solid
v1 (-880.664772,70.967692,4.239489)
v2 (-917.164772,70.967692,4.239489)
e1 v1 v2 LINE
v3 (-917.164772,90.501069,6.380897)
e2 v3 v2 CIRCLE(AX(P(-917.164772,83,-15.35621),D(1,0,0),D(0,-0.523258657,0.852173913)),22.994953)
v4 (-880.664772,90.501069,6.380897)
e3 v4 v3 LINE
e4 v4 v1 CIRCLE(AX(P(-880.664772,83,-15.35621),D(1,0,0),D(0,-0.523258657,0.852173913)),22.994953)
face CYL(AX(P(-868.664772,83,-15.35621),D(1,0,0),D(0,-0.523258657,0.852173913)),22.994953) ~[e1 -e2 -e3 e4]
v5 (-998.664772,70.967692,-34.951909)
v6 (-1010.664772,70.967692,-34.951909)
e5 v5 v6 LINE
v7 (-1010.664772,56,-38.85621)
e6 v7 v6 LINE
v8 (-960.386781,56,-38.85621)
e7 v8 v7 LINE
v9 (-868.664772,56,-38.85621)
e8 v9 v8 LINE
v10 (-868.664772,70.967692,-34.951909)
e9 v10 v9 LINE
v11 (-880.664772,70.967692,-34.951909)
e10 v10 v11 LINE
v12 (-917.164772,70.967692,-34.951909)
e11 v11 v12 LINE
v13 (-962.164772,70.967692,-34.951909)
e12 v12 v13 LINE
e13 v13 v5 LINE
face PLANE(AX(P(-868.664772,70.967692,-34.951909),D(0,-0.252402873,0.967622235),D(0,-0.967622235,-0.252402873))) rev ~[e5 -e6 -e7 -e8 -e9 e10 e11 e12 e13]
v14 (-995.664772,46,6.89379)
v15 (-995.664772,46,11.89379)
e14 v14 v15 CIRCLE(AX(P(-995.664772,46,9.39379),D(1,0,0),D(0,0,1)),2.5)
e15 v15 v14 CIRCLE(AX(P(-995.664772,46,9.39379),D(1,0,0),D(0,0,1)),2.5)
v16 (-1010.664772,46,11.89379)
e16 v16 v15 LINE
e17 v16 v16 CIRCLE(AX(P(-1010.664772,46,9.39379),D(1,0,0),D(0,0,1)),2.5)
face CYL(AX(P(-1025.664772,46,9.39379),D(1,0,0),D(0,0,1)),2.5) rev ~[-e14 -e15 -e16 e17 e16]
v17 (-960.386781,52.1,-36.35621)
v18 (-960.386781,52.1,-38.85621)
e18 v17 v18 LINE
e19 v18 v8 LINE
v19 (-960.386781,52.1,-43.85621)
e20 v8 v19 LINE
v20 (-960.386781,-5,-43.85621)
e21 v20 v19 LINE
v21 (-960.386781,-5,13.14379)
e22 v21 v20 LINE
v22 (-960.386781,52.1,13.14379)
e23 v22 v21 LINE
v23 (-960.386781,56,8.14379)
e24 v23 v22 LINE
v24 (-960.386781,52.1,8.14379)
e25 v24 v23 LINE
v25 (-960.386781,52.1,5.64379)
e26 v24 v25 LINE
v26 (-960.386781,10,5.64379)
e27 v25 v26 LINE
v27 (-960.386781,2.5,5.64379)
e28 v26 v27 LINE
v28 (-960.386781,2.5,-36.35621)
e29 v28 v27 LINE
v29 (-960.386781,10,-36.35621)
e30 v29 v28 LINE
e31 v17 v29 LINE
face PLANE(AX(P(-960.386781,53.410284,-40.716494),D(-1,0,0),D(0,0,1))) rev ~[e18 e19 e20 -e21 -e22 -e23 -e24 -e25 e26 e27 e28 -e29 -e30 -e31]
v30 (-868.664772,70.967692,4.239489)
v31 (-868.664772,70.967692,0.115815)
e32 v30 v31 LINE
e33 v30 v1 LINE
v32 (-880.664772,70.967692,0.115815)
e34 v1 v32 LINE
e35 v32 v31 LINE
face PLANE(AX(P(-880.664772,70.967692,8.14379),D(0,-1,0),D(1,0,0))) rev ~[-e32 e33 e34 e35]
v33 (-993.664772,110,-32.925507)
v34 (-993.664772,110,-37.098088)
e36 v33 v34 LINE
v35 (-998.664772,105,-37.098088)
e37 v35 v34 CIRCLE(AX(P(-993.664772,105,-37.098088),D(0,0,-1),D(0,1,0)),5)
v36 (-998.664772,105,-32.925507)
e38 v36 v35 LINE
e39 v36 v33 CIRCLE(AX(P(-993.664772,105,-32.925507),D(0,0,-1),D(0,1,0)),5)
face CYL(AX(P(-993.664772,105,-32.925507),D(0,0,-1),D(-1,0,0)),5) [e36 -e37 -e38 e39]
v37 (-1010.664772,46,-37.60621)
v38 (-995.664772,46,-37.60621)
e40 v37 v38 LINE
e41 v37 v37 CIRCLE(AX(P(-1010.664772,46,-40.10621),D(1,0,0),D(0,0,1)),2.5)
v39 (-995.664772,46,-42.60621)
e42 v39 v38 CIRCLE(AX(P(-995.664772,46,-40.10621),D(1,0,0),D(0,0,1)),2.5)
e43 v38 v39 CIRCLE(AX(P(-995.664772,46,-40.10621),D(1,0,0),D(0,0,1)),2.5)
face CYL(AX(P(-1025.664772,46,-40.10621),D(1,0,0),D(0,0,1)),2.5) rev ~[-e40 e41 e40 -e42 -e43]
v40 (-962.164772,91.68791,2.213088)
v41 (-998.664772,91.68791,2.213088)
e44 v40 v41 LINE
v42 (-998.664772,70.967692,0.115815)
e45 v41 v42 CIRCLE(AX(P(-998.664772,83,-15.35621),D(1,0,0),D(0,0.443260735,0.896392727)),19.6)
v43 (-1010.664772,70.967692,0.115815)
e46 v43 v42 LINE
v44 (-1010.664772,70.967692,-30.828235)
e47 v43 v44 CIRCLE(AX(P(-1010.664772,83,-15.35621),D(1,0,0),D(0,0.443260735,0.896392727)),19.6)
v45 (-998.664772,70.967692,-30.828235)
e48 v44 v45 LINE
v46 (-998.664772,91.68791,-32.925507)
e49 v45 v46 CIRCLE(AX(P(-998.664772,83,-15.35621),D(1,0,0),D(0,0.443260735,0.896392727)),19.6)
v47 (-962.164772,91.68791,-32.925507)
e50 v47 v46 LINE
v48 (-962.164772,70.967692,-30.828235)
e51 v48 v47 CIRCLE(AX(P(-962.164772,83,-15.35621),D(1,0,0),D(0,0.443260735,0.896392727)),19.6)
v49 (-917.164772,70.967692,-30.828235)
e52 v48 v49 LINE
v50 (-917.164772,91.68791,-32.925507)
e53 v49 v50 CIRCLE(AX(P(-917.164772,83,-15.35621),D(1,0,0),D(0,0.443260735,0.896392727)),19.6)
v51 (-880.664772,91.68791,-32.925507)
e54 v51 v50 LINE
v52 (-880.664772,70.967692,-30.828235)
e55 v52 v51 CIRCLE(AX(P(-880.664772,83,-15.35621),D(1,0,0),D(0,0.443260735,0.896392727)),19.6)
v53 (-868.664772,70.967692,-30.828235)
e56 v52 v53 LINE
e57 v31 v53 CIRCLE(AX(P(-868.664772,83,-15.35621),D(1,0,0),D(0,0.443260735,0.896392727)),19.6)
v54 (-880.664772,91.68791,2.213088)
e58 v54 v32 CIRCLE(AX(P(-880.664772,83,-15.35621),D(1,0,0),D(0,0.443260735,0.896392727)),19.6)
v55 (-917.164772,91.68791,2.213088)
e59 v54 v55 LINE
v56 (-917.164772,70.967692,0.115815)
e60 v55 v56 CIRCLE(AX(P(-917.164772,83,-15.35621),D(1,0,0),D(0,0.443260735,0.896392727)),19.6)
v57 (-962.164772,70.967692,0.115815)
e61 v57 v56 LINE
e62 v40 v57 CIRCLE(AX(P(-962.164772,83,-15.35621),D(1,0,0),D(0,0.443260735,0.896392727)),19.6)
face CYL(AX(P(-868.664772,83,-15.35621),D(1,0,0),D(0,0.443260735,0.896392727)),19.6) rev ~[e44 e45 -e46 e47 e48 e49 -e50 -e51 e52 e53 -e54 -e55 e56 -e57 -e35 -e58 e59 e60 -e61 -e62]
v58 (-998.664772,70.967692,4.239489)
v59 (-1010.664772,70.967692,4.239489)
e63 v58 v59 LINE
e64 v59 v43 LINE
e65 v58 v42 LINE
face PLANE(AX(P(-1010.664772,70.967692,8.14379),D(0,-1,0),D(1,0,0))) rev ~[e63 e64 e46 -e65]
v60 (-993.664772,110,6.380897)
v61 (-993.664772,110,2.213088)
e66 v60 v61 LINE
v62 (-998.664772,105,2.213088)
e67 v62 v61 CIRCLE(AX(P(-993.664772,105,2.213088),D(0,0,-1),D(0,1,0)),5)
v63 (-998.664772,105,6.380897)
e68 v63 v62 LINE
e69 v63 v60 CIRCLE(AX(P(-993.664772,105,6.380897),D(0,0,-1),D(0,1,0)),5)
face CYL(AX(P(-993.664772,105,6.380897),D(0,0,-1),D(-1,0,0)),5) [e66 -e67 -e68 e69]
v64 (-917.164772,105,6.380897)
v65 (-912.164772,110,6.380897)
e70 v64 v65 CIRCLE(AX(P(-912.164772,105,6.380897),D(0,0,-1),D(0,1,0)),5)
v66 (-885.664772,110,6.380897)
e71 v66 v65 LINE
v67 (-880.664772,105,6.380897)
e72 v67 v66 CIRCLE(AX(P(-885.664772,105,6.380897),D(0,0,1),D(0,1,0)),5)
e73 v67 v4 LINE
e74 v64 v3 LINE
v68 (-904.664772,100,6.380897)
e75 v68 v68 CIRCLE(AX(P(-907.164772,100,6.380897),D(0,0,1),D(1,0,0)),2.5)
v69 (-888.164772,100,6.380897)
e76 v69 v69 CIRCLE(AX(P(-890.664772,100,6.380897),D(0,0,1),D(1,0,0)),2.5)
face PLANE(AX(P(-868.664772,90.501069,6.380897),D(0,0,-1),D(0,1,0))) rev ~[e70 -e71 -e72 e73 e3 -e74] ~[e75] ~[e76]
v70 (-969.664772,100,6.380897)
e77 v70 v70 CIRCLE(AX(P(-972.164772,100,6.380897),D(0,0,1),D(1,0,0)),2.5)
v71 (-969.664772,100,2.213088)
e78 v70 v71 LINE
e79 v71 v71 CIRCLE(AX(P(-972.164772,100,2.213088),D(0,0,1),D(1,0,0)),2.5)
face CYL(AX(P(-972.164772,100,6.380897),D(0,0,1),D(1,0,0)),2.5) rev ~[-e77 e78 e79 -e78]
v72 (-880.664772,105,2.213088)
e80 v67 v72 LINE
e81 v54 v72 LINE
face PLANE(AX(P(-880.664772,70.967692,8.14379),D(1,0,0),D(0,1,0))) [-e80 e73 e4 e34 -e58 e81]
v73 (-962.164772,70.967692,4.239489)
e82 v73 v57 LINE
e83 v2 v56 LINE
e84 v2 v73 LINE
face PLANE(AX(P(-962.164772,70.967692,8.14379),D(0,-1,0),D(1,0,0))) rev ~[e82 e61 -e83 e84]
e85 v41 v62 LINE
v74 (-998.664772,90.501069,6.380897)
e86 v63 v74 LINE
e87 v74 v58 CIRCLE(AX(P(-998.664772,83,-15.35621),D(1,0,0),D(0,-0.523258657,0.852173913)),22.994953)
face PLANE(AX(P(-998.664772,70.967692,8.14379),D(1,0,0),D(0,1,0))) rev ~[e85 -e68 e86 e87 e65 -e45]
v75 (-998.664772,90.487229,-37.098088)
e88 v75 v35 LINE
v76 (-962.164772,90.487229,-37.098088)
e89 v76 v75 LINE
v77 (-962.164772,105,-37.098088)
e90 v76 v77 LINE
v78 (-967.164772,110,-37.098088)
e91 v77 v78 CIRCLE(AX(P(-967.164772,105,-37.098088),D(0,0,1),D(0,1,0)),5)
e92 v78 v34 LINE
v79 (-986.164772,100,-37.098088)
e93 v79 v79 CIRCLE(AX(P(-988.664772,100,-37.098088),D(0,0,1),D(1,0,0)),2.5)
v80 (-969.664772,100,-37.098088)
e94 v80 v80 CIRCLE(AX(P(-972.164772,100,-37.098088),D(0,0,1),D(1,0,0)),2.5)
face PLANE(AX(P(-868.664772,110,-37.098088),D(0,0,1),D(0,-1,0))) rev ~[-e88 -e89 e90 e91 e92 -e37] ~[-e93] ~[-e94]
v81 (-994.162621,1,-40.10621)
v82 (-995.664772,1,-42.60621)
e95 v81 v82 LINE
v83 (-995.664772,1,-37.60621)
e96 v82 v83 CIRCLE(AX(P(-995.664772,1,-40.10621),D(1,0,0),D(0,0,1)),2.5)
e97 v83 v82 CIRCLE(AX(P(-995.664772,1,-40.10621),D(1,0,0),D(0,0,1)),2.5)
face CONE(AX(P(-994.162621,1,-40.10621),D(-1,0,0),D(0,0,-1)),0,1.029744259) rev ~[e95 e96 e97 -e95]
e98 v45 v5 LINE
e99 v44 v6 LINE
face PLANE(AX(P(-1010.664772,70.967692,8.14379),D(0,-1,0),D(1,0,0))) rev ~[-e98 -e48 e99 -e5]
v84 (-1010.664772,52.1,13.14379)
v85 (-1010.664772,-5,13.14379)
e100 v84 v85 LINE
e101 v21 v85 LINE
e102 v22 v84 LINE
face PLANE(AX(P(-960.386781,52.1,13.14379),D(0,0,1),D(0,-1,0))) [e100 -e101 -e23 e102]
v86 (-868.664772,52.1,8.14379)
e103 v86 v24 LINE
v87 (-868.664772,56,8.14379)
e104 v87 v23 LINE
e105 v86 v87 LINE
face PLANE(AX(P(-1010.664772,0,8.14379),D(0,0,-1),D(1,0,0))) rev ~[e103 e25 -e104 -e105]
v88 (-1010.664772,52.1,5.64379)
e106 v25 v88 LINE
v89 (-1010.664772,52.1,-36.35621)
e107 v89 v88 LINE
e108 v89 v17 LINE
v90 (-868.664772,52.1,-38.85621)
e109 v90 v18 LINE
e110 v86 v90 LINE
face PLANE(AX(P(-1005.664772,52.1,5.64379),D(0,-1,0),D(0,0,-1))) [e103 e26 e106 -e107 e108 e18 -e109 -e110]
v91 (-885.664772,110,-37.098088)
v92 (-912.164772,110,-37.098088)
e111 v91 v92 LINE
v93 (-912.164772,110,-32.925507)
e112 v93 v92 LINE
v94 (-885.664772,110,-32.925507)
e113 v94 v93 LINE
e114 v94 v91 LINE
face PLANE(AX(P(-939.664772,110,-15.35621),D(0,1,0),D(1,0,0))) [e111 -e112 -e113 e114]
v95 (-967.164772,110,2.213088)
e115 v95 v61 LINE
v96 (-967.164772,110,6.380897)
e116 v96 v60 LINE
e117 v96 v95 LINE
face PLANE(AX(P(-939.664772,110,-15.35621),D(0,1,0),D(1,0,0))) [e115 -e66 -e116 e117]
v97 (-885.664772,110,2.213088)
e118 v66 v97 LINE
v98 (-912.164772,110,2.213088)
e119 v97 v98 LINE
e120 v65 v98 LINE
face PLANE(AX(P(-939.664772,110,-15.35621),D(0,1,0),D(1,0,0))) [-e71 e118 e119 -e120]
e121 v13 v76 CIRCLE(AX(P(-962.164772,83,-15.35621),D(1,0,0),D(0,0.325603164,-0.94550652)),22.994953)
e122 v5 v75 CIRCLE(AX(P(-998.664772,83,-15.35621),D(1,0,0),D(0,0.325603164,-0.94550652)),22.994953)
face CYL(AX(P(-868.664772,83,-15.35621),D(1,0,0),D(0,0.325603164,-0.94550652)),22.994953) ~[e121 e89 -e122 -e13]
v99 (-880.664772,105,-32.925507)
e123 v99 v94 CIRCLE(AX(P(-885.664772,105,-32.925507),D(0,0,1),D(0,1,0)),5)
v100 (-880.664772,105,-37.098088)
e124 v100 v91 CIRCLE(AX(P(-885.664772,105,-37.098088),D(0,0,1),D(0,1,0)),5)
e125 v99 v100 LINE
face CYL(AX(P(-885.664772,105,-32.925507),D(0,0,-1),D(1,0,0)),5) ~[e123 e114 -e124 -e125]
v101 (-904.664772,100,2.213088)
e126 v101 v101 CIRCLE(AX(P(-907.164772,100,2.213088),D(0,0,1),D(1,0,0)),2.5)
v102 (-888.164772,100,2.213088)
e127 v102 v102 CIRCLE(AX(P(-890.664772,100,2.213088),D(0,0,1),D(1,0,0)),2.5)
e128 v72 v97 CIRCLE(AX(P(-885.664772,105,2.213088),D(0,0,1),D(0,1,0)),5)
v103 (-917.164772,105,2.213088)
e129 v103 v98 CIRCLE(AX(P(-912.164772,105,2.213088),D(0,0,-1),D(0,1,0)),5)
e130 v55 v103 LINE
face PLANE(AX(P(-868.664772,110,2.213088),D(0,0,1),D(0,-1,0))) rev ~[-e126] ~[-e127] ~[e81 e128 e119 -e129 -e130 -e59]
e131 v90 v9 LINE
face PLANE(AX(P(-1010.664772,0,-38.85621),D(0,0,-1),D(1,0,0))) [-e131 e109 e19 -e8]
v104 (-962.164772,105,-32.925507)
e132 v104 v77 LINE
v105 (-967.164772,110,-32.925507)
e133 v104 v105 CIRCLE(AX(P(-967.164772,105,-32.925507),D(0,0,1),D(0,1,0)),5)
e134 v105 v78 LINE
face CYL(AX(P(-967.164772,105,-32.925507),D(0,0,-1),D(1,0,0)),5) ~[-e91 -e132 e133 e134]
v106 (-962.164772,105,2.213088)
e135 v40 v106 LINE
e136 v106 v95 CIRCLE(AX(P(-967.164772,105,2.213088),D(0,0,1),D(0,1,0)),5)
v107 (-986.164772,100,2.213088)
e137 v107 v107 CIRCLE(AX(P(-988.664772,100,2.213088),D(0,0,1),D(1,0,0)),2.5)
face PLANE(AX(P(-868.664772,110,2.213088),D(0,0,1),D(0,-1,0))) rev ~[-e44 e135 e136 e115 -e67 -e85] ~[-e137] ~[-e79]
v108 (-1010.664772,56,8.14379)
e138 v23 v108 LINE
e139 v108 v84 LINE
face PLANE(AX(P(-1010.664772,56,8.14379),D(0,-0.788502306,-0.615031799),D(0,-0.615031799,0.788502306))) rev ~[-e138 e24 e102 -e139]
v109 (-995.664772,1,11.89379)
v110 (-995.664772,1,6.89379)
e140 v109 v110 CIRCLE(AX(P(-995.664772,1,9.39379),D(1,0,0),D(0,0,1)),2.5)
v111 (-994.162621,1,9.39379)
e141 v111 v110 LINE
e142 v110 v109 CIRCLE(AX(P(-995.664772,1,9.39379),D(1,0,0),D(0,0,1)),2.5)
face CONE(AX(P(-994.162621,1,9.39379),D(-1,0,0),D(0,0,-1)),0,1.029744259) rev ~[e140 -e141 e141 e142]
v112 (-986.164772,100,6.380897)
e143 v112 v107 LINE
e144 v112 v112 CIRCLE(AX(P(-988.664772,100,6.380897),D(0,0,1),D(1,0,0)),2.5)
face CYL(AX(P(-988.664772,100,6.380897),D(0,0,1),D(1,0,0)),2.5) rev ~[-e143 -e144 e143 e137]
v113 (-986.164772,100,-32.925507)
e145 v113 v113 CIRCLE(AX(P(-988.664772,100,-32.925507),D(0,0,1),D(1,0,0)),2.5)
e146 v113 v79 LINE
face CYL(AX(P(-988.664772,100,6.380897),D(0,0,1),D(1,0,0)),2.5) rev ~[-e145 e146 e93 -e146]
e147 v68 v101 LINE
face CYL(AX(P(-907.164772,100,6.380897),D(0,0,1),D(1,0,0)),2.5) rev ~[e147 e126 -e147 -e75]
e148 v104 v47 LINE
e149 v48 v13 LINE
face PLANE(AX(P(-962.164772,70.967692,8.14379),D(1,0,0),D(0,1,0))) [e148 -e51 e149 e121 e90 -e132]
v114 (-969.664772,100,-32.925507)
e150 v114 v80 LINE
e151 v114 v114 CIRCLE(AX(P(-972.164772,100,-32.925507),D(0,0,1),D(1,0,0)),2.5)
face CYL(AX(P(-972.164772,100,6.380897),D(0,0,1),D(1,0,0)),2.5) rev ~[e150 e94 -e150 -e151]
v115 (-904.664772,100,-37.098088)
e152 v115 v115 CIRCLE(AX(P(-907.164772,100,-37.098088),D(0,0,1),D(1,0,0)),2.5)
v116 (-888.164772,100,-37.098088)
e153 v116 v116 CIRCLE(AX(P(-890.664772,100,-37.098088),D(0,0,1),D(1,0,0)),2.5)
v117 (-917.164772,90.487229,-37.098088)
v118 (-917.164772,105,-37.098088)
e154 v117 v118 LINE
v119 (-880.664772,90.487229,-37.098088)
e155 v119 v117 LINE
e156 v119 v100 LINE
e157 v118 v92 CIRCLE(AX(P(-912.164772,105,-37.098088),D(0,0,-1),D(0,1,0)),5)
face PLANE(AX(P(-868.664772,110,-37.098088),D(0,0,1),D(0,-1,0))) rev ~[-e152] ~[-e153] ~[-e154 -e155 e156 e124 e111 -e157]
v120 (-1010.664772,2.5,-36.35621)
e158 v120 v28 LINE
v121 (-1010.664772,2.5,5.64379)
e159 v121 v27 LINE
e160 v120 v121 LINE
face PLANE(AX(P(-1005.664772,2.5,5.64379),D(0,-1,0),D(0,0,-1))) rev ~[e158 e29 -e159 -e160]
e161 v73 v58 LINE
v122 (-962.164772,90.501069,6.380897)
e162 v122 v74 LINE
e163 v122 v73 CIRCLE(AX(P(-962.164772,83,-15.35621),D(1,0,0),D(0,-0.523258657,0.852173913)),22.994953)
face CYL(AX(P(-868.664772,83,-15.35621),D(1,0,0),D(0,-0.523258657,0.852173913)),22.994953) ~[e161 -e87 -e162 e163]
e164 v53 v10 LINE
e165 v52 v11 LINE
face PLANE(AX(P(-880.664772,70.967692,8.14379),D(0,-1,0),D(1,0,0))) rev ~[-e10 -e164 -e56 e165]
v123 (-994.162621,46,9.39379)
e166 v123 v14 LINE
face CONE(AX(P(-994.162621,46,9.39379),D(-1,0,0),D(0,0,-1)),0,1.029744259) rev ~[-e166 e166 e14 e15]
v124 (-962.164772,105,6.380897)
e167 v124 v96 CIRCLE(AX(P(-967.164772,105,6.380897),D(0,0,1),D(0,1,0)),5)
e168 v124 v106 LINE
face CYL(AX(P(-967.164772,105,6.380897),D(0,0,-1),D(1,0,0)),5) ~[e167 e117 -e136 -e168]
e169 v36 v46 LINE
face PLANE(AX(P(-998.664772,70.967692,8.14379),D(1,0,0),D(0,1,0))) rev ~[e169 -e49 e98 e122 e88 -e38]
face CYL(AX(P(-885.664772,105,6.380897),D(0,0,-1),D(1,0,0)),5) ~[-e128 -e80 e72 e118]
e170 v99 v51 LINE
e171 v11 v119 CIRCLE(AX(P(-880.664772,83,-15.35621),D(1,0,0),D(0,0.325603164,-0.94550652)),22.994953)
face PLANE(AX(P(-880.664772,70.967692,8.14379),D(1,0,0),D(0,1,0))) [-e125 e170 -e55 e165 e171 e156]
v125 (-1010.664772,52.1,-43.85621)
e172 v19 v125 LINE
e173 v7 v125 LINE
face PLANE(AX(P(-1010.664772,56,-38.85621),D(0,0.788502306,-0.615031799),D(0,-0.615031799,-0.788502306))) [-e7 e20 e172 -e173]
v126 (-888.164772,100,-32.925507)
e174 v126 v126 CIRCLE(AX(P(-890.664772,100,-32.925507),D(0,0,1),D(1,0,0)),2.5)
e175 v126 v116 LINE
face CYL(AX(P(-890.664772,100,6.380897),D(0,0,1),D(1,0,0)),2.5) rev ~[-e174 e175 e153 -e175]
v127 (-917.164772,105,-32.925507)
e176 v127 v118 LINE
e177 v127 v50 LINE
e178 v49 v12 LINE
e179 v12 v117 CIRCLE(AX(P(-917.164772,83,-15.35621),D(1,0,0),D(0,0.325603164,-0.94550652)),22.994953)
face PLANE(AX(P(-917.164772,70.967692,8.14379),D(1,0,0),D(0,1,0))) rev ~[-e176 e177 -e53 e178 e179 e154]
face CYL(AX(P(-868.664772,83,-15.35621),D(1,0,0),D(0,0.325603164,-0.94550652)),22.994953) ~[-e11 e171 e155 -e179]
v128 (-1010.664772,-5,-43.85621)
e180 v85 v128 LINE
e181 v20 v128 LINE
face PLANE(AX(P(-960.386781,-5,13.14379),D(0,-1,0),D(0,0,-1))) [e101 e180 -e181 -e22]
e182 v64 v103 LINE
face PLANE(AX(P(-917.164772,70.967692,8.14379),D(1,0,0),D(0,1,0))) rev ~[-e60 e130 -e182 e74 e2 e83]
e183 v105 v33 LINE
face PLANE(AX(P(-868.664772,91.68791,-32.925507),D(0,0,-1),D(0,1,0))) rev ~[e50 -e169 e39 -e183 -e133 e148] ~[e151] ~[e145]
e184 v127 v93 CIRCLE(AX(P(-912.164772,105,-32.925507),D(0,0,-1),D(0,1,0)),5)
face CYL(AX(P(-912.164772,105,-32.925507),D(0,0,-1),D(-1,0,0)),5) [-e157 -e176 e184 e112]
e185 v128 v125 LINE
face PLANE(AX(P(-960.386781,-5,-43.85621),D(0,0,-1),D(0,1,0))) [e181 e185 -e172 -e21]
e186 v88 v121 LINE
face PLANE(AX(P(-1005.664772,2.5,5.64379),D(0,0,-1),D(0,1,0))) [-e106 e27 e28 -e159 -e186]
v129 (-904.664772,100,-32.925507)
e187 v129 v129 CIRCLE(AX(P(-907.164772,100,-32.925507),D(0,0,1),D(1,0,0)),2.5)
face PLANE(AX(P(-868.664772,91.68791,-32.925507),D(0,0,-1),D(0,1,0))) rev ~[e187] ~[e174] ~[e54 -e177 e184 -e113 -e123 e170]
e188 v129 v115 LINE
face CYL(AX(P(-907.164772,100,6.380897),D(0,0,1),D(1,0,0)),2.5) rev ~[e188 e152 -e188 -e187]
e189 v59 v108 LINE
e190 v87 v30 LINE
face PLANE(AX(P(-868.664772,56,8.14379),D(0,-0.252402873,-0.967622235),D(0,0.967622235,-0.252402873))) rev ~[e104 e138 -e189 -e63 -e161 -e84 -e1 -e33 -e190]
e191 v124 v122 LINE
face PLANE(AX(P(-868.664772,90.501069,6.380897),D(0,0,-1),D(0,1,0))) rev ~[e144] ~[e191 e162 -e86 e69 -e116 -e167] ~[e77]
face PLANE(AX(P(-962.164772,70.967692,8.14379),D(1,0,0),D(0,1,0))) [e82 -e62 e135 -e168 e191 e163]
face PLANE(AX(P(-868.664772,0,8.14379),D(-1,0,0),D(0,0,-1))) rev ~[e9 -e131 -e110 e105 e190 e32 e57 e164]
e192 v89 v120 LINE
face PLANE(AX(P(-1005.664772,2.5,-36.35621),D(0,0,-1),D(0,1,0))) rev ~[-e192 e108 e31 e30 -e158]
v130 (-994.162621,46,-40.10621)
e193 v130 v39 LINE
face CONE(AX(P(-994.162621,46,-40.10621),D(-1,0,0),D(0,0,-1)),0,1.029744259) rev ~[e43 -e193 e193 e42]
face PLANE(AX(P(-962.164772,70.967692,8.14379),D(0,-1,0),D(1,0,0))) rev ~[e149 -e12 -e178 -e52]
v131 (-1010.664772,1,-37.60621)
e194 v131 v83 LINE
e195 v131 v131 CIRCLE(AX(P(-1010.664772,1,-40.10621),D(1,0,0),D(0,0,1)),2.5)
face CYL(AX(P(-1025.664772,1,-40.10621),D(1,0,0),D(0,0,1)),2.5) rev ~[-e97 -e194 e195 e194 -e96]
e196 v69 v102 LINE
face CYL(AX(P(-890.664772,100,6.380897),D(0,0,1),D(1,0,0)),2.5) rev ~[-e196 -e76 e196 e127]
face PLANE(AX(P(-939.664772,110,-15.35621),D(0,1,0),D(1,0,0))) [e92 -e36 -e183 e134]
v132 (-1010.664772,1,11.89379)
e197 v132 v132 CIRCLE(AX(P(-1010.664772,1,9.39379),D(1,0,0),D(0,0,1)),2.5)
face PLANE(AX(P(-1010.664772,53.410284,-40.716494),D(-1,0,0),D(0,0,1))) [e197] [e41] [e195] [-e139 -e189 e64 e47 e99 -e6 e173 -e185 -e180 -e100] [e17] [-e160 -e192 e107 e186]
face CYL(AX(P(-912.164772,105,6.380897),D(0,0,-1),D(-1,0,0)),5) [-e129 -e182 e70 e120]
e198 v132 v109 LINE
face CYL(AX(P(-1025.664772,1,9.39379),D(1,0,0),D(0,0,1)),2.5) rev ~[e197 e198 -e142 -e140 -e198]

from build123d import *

# Parameters (mm, degrees)
SKETCH1_W             = 142
SKETCH1_H             = 47
BOSS_EXTRUDE1_DEPTH   = 110
SKETCH2_W             = 42
SKETCH2_H             = 49.6
CUT_EXTRUDE1_DEPTH    = 137
SKETCH4_W             = 33.598594883
SKETCH4_H             = 47
CUT_EXTRUDE3_DEPTH    = 10
CUT_EXTRUDE9_DEPTH    = 184.776508378
SKETCH8_W             = 12
SKETCH8_H             = 39.032308198
SKETCH8_W_2           = 45
CUT_EXTRUDE12_DEPTH   = 1018.719156625
SKETCH11_R            = 2.5
CUT_EXTRUDE13_DEPTH   = 1018.639266937
FILLET5_R             = 5
SKETCH13_W            = 47
SKETCH13_H            = 52.1
CUT_EXTRUDE14_DEPTH   = 91.7220084
BOSS_EXTRUDE2_DEPTH   = 50.2779916
BOSS_EXTRUDE3_DEPTH   = 50.2779916
SKETCH17_W            = 42
SKETCH17_H            = 49.6
CUT_EXTRUDE15_DEPTH   = 182.086628796
M6_TAPPED_HOLE1_D     = 5
M6_TAPPED_HOLE1_DEPTH = 15
M6_TAPPED_HOLE1_TIP   = 1.502151548


with BuildPart() as part:
    # Sketch1 → Boss-Extrude1 (new body)
    with BuildSketch(Plane(origin=(0, 0, 0), x_dir=(1, 0, 0), z_dir=(0, 1, 0))):
        with Locations((-939.664772198, 15.356209692)):
            Rectangle(SKETCH1_W, SKETCH1_H)
    extrude(amount=BOSS_EXTRUDE1_DEPTH)

    # Sketch2 → Cut-Extrude1 (cut)
    with BuildSketch(Plane(origin=(-868.664772198, 0, 0), x_dir=(0, 0, -1), z_dir=(1, 0, 0))):
        with Locations((15.356209692, 27.3)):
            Rectangle(SKETCH2_W, SKETCH2_H)
    extrude(amount=-CUT_EXTRUDE1_DEPTH, mode=Mode.SUBTRACT)

    # Sketch4 → Cut-Extrude3 (cut)
    with BuildSketch(Plane.XZ):
        with Locations((-943.587483157, -15.356209692)):
            Rectangle(SKETCH4_W, SKETCH4_H)
    extrude(amount=-CUT_EXTRUDE3_DEPTH, mode=Mode.SUBTRACT)

    # Sketch5 → Cut-Extrude9 (cut, through all)
    with BuildSketch(Plane(origin=(-868.664772198, 0, 0), x_dir=(0, 0, -1), z_dir=(1, 0, 0))):
        with BuildLine():
            Line((32.925507135, 110), (-2.21308775, 110))
            Line((-2.21308775, 110), (-2.21308775, 91.687910414))
            ThreePointArc((-2.21308775, 91.687910414), (15.356209692, 63.4), (32.925507135, 91.687910414))
            Line((32.925507135, 91.687910414), (32.925507135, 110))
        make_face()
        with BuildLine():
            Line((-6.380897296, 90.501069346), (-6.380897296, 110))
            Line((-6.380897296, 110), (-8.143790308, 110))
            Line((-8.143790308, 110), (-8.143790308, 56))
            Line((-8.143790308, 56), (-4.23948935, 70.967691802))
            ThreePointArc((-4.23948935, 70.967691802), (-7.501795977, 80.49411924), (-6.380897296, 90.501069346))
        make_face()
        with BuildLine():
            ThreePointArc((37.098087644, 90.487229439), (38.21341655, 80.486843377), (34.951908735, 70.967691802))
            Line((34.951908735, 70.967691802), (38.856209692, 56))
            Line((38.856209692, 56), (38.856209692, 110))
            Line((38.856209692, 110), (37.098087644, 110))
            Line((37.098087644, 110), (37.098087644, 90.487229439))
        make_face()
    extrude(amount=-CUT_EXTRUDE9_DEPTH, mode=Mode.SUBTRACT)

    # Sketch8 → Cut-Extrude12 (cut, through all)
    with BuildSketch(Plane.XY.offset(8.143790308)):
        with Locations((-1004.664772198, 90.483845901)):
            Rectangle(SKETCH8_W, SKETCH8_H)
        with Locations((-939.664772198, 90.483845901)):
            Rectangle(SKETCH8_W_2, SKETCH8_H)
        with Locations((-874.664772198, 90.483845901)):
            Rectangle(SKETCH8_W, SKETCH8_H)
    extrude(amount=-CUT_EXTRUDE12_DEPTH, mode=Mode.SUBTRACT)

    # Sketch11 → Cut-Extrude13 (cut, through all)
    with BuildSketch(Plane.XY.offset(6.380897296)):
        with Locations((-988.664772198, 100)):
            Circle(SKETCH11_R)
        with Locations((-972.164772198, 100)):
            Circle(SKETCH11_R)
        with Locations((-907.164772198, 100)):
            Circle(SKETCH11_R)
        with Locations((-890.664772198, 100)):
            Circle(SKETCH11_R)
    extrude(amount=-CUT_EXTRUDE13_DEPTH, mode=Mode.SUBTRACT)

    # Fillet5
    fillet5_edges = [part.edges().sort_by_distance(p)[0] for p in [
        (-998.664772198, 110, 4.296992523),
        (-998.664772198, 110, -35.01179739),
        (-917.164772198, 110, 4.296992523),
        (-962.164772198, 110, 4.296992523),
        (-962.164772198, 110, -35.01179739),
        (-917.164772198, 110, -35.01179739),
        (-880.664772198, 110, 4.296992523),
        (-880.664772198, 110, -35.01179739),
    ]]
    fillet(fillet5_edges, radius=FILLET5_R)

    # Sketch13 → Cut-Extrude14 (cut)
    with BuildSketch(Plane(origin=(-868.664772198, 0, 0), x_dir=(0, 0, -1), z_dir=(1, 0, 0))):
        with Locations((15.356209692, 26.05)):
            Rectangle(SKETCH13_W, SKETCH13_H)
    extrude(amount=-CUT_EXTRUDE14_DEPTH, mode=Mode.SUBTRACT)

    # Sketch15 → Boss-Extrude2 (add)
    with BuildSketch(Plane(origin=(-960.386780598, 0, 0), x_dir=(0, 0, -1), z_dir=(1, 0, 0))):
        Polygon((-8.143790308, 52.1), (-13.143790308, 52.1), (-13.143790308, -5), (43.856209692, -5), (43.856209692, 52.1), (38.856209692, 52.1), (38.856209692, 0), (-8.143790308, 0), align=None)
    extrude(amount=-BOSS_EXTRUDE2_DEPTH)

    # Sketch16 → Boss-Extrude3 (add)
    with BuildSketch(Plane.ZY.offset(1010.664772198)):
        Polygon((-38.856209692, 56), (-43.856209692, 52.1), (-38.856209692, 52.1), align=None)
        Polygon((8.143790308, 56), (13.143790308, 52.1), (8.143790308, 52.1), align=None)
    extrude(amount=-BOSS_EXTRUDE3_DEPTH)

    # Sketch17 → Cut-Extrude15 (cut, through all)
    with BuildSketch(Plane(origin=(-1005.664772198, 0, 0), x_dir=(0, 0, -1), z_dir=(1, 0, 0))):
        with Locations((15.356209692, 27.3)):
            Rectangle(SKETCH17_W, SKETCH17_H)
    extrude(amount=-CUT_EXTRUDE15_DEPTH, mode=Mode.SUBTRACT)

    # M6 Tapped Hole1
    with Locations(Plane(origin=(-1010.664772198, 46, -40.106209692), x_dir=(0, 0, -1), z_dir=(-1, 0, 0))):
        with Locations((0, 0), (0, 45), (-49.5, 45), (-49.5, 0)):
            Hole(M6_TAPPED_HOLE1_D / 2, depth=M6_TAPPED_HOLE1_DEPTH)
            with Locations((0, 0, -(M6_TAPPED_HOLE1_DEPTH + M6_TAPPED_HOLE1_TIP / 2))):  # 118° drill point
                Cone(0, M6_TAPPED_HOLE1_D / 2, M6_TAPPED_HOLE1_TIP, mode=Mode.SUBTRACT)


solid = part.part
